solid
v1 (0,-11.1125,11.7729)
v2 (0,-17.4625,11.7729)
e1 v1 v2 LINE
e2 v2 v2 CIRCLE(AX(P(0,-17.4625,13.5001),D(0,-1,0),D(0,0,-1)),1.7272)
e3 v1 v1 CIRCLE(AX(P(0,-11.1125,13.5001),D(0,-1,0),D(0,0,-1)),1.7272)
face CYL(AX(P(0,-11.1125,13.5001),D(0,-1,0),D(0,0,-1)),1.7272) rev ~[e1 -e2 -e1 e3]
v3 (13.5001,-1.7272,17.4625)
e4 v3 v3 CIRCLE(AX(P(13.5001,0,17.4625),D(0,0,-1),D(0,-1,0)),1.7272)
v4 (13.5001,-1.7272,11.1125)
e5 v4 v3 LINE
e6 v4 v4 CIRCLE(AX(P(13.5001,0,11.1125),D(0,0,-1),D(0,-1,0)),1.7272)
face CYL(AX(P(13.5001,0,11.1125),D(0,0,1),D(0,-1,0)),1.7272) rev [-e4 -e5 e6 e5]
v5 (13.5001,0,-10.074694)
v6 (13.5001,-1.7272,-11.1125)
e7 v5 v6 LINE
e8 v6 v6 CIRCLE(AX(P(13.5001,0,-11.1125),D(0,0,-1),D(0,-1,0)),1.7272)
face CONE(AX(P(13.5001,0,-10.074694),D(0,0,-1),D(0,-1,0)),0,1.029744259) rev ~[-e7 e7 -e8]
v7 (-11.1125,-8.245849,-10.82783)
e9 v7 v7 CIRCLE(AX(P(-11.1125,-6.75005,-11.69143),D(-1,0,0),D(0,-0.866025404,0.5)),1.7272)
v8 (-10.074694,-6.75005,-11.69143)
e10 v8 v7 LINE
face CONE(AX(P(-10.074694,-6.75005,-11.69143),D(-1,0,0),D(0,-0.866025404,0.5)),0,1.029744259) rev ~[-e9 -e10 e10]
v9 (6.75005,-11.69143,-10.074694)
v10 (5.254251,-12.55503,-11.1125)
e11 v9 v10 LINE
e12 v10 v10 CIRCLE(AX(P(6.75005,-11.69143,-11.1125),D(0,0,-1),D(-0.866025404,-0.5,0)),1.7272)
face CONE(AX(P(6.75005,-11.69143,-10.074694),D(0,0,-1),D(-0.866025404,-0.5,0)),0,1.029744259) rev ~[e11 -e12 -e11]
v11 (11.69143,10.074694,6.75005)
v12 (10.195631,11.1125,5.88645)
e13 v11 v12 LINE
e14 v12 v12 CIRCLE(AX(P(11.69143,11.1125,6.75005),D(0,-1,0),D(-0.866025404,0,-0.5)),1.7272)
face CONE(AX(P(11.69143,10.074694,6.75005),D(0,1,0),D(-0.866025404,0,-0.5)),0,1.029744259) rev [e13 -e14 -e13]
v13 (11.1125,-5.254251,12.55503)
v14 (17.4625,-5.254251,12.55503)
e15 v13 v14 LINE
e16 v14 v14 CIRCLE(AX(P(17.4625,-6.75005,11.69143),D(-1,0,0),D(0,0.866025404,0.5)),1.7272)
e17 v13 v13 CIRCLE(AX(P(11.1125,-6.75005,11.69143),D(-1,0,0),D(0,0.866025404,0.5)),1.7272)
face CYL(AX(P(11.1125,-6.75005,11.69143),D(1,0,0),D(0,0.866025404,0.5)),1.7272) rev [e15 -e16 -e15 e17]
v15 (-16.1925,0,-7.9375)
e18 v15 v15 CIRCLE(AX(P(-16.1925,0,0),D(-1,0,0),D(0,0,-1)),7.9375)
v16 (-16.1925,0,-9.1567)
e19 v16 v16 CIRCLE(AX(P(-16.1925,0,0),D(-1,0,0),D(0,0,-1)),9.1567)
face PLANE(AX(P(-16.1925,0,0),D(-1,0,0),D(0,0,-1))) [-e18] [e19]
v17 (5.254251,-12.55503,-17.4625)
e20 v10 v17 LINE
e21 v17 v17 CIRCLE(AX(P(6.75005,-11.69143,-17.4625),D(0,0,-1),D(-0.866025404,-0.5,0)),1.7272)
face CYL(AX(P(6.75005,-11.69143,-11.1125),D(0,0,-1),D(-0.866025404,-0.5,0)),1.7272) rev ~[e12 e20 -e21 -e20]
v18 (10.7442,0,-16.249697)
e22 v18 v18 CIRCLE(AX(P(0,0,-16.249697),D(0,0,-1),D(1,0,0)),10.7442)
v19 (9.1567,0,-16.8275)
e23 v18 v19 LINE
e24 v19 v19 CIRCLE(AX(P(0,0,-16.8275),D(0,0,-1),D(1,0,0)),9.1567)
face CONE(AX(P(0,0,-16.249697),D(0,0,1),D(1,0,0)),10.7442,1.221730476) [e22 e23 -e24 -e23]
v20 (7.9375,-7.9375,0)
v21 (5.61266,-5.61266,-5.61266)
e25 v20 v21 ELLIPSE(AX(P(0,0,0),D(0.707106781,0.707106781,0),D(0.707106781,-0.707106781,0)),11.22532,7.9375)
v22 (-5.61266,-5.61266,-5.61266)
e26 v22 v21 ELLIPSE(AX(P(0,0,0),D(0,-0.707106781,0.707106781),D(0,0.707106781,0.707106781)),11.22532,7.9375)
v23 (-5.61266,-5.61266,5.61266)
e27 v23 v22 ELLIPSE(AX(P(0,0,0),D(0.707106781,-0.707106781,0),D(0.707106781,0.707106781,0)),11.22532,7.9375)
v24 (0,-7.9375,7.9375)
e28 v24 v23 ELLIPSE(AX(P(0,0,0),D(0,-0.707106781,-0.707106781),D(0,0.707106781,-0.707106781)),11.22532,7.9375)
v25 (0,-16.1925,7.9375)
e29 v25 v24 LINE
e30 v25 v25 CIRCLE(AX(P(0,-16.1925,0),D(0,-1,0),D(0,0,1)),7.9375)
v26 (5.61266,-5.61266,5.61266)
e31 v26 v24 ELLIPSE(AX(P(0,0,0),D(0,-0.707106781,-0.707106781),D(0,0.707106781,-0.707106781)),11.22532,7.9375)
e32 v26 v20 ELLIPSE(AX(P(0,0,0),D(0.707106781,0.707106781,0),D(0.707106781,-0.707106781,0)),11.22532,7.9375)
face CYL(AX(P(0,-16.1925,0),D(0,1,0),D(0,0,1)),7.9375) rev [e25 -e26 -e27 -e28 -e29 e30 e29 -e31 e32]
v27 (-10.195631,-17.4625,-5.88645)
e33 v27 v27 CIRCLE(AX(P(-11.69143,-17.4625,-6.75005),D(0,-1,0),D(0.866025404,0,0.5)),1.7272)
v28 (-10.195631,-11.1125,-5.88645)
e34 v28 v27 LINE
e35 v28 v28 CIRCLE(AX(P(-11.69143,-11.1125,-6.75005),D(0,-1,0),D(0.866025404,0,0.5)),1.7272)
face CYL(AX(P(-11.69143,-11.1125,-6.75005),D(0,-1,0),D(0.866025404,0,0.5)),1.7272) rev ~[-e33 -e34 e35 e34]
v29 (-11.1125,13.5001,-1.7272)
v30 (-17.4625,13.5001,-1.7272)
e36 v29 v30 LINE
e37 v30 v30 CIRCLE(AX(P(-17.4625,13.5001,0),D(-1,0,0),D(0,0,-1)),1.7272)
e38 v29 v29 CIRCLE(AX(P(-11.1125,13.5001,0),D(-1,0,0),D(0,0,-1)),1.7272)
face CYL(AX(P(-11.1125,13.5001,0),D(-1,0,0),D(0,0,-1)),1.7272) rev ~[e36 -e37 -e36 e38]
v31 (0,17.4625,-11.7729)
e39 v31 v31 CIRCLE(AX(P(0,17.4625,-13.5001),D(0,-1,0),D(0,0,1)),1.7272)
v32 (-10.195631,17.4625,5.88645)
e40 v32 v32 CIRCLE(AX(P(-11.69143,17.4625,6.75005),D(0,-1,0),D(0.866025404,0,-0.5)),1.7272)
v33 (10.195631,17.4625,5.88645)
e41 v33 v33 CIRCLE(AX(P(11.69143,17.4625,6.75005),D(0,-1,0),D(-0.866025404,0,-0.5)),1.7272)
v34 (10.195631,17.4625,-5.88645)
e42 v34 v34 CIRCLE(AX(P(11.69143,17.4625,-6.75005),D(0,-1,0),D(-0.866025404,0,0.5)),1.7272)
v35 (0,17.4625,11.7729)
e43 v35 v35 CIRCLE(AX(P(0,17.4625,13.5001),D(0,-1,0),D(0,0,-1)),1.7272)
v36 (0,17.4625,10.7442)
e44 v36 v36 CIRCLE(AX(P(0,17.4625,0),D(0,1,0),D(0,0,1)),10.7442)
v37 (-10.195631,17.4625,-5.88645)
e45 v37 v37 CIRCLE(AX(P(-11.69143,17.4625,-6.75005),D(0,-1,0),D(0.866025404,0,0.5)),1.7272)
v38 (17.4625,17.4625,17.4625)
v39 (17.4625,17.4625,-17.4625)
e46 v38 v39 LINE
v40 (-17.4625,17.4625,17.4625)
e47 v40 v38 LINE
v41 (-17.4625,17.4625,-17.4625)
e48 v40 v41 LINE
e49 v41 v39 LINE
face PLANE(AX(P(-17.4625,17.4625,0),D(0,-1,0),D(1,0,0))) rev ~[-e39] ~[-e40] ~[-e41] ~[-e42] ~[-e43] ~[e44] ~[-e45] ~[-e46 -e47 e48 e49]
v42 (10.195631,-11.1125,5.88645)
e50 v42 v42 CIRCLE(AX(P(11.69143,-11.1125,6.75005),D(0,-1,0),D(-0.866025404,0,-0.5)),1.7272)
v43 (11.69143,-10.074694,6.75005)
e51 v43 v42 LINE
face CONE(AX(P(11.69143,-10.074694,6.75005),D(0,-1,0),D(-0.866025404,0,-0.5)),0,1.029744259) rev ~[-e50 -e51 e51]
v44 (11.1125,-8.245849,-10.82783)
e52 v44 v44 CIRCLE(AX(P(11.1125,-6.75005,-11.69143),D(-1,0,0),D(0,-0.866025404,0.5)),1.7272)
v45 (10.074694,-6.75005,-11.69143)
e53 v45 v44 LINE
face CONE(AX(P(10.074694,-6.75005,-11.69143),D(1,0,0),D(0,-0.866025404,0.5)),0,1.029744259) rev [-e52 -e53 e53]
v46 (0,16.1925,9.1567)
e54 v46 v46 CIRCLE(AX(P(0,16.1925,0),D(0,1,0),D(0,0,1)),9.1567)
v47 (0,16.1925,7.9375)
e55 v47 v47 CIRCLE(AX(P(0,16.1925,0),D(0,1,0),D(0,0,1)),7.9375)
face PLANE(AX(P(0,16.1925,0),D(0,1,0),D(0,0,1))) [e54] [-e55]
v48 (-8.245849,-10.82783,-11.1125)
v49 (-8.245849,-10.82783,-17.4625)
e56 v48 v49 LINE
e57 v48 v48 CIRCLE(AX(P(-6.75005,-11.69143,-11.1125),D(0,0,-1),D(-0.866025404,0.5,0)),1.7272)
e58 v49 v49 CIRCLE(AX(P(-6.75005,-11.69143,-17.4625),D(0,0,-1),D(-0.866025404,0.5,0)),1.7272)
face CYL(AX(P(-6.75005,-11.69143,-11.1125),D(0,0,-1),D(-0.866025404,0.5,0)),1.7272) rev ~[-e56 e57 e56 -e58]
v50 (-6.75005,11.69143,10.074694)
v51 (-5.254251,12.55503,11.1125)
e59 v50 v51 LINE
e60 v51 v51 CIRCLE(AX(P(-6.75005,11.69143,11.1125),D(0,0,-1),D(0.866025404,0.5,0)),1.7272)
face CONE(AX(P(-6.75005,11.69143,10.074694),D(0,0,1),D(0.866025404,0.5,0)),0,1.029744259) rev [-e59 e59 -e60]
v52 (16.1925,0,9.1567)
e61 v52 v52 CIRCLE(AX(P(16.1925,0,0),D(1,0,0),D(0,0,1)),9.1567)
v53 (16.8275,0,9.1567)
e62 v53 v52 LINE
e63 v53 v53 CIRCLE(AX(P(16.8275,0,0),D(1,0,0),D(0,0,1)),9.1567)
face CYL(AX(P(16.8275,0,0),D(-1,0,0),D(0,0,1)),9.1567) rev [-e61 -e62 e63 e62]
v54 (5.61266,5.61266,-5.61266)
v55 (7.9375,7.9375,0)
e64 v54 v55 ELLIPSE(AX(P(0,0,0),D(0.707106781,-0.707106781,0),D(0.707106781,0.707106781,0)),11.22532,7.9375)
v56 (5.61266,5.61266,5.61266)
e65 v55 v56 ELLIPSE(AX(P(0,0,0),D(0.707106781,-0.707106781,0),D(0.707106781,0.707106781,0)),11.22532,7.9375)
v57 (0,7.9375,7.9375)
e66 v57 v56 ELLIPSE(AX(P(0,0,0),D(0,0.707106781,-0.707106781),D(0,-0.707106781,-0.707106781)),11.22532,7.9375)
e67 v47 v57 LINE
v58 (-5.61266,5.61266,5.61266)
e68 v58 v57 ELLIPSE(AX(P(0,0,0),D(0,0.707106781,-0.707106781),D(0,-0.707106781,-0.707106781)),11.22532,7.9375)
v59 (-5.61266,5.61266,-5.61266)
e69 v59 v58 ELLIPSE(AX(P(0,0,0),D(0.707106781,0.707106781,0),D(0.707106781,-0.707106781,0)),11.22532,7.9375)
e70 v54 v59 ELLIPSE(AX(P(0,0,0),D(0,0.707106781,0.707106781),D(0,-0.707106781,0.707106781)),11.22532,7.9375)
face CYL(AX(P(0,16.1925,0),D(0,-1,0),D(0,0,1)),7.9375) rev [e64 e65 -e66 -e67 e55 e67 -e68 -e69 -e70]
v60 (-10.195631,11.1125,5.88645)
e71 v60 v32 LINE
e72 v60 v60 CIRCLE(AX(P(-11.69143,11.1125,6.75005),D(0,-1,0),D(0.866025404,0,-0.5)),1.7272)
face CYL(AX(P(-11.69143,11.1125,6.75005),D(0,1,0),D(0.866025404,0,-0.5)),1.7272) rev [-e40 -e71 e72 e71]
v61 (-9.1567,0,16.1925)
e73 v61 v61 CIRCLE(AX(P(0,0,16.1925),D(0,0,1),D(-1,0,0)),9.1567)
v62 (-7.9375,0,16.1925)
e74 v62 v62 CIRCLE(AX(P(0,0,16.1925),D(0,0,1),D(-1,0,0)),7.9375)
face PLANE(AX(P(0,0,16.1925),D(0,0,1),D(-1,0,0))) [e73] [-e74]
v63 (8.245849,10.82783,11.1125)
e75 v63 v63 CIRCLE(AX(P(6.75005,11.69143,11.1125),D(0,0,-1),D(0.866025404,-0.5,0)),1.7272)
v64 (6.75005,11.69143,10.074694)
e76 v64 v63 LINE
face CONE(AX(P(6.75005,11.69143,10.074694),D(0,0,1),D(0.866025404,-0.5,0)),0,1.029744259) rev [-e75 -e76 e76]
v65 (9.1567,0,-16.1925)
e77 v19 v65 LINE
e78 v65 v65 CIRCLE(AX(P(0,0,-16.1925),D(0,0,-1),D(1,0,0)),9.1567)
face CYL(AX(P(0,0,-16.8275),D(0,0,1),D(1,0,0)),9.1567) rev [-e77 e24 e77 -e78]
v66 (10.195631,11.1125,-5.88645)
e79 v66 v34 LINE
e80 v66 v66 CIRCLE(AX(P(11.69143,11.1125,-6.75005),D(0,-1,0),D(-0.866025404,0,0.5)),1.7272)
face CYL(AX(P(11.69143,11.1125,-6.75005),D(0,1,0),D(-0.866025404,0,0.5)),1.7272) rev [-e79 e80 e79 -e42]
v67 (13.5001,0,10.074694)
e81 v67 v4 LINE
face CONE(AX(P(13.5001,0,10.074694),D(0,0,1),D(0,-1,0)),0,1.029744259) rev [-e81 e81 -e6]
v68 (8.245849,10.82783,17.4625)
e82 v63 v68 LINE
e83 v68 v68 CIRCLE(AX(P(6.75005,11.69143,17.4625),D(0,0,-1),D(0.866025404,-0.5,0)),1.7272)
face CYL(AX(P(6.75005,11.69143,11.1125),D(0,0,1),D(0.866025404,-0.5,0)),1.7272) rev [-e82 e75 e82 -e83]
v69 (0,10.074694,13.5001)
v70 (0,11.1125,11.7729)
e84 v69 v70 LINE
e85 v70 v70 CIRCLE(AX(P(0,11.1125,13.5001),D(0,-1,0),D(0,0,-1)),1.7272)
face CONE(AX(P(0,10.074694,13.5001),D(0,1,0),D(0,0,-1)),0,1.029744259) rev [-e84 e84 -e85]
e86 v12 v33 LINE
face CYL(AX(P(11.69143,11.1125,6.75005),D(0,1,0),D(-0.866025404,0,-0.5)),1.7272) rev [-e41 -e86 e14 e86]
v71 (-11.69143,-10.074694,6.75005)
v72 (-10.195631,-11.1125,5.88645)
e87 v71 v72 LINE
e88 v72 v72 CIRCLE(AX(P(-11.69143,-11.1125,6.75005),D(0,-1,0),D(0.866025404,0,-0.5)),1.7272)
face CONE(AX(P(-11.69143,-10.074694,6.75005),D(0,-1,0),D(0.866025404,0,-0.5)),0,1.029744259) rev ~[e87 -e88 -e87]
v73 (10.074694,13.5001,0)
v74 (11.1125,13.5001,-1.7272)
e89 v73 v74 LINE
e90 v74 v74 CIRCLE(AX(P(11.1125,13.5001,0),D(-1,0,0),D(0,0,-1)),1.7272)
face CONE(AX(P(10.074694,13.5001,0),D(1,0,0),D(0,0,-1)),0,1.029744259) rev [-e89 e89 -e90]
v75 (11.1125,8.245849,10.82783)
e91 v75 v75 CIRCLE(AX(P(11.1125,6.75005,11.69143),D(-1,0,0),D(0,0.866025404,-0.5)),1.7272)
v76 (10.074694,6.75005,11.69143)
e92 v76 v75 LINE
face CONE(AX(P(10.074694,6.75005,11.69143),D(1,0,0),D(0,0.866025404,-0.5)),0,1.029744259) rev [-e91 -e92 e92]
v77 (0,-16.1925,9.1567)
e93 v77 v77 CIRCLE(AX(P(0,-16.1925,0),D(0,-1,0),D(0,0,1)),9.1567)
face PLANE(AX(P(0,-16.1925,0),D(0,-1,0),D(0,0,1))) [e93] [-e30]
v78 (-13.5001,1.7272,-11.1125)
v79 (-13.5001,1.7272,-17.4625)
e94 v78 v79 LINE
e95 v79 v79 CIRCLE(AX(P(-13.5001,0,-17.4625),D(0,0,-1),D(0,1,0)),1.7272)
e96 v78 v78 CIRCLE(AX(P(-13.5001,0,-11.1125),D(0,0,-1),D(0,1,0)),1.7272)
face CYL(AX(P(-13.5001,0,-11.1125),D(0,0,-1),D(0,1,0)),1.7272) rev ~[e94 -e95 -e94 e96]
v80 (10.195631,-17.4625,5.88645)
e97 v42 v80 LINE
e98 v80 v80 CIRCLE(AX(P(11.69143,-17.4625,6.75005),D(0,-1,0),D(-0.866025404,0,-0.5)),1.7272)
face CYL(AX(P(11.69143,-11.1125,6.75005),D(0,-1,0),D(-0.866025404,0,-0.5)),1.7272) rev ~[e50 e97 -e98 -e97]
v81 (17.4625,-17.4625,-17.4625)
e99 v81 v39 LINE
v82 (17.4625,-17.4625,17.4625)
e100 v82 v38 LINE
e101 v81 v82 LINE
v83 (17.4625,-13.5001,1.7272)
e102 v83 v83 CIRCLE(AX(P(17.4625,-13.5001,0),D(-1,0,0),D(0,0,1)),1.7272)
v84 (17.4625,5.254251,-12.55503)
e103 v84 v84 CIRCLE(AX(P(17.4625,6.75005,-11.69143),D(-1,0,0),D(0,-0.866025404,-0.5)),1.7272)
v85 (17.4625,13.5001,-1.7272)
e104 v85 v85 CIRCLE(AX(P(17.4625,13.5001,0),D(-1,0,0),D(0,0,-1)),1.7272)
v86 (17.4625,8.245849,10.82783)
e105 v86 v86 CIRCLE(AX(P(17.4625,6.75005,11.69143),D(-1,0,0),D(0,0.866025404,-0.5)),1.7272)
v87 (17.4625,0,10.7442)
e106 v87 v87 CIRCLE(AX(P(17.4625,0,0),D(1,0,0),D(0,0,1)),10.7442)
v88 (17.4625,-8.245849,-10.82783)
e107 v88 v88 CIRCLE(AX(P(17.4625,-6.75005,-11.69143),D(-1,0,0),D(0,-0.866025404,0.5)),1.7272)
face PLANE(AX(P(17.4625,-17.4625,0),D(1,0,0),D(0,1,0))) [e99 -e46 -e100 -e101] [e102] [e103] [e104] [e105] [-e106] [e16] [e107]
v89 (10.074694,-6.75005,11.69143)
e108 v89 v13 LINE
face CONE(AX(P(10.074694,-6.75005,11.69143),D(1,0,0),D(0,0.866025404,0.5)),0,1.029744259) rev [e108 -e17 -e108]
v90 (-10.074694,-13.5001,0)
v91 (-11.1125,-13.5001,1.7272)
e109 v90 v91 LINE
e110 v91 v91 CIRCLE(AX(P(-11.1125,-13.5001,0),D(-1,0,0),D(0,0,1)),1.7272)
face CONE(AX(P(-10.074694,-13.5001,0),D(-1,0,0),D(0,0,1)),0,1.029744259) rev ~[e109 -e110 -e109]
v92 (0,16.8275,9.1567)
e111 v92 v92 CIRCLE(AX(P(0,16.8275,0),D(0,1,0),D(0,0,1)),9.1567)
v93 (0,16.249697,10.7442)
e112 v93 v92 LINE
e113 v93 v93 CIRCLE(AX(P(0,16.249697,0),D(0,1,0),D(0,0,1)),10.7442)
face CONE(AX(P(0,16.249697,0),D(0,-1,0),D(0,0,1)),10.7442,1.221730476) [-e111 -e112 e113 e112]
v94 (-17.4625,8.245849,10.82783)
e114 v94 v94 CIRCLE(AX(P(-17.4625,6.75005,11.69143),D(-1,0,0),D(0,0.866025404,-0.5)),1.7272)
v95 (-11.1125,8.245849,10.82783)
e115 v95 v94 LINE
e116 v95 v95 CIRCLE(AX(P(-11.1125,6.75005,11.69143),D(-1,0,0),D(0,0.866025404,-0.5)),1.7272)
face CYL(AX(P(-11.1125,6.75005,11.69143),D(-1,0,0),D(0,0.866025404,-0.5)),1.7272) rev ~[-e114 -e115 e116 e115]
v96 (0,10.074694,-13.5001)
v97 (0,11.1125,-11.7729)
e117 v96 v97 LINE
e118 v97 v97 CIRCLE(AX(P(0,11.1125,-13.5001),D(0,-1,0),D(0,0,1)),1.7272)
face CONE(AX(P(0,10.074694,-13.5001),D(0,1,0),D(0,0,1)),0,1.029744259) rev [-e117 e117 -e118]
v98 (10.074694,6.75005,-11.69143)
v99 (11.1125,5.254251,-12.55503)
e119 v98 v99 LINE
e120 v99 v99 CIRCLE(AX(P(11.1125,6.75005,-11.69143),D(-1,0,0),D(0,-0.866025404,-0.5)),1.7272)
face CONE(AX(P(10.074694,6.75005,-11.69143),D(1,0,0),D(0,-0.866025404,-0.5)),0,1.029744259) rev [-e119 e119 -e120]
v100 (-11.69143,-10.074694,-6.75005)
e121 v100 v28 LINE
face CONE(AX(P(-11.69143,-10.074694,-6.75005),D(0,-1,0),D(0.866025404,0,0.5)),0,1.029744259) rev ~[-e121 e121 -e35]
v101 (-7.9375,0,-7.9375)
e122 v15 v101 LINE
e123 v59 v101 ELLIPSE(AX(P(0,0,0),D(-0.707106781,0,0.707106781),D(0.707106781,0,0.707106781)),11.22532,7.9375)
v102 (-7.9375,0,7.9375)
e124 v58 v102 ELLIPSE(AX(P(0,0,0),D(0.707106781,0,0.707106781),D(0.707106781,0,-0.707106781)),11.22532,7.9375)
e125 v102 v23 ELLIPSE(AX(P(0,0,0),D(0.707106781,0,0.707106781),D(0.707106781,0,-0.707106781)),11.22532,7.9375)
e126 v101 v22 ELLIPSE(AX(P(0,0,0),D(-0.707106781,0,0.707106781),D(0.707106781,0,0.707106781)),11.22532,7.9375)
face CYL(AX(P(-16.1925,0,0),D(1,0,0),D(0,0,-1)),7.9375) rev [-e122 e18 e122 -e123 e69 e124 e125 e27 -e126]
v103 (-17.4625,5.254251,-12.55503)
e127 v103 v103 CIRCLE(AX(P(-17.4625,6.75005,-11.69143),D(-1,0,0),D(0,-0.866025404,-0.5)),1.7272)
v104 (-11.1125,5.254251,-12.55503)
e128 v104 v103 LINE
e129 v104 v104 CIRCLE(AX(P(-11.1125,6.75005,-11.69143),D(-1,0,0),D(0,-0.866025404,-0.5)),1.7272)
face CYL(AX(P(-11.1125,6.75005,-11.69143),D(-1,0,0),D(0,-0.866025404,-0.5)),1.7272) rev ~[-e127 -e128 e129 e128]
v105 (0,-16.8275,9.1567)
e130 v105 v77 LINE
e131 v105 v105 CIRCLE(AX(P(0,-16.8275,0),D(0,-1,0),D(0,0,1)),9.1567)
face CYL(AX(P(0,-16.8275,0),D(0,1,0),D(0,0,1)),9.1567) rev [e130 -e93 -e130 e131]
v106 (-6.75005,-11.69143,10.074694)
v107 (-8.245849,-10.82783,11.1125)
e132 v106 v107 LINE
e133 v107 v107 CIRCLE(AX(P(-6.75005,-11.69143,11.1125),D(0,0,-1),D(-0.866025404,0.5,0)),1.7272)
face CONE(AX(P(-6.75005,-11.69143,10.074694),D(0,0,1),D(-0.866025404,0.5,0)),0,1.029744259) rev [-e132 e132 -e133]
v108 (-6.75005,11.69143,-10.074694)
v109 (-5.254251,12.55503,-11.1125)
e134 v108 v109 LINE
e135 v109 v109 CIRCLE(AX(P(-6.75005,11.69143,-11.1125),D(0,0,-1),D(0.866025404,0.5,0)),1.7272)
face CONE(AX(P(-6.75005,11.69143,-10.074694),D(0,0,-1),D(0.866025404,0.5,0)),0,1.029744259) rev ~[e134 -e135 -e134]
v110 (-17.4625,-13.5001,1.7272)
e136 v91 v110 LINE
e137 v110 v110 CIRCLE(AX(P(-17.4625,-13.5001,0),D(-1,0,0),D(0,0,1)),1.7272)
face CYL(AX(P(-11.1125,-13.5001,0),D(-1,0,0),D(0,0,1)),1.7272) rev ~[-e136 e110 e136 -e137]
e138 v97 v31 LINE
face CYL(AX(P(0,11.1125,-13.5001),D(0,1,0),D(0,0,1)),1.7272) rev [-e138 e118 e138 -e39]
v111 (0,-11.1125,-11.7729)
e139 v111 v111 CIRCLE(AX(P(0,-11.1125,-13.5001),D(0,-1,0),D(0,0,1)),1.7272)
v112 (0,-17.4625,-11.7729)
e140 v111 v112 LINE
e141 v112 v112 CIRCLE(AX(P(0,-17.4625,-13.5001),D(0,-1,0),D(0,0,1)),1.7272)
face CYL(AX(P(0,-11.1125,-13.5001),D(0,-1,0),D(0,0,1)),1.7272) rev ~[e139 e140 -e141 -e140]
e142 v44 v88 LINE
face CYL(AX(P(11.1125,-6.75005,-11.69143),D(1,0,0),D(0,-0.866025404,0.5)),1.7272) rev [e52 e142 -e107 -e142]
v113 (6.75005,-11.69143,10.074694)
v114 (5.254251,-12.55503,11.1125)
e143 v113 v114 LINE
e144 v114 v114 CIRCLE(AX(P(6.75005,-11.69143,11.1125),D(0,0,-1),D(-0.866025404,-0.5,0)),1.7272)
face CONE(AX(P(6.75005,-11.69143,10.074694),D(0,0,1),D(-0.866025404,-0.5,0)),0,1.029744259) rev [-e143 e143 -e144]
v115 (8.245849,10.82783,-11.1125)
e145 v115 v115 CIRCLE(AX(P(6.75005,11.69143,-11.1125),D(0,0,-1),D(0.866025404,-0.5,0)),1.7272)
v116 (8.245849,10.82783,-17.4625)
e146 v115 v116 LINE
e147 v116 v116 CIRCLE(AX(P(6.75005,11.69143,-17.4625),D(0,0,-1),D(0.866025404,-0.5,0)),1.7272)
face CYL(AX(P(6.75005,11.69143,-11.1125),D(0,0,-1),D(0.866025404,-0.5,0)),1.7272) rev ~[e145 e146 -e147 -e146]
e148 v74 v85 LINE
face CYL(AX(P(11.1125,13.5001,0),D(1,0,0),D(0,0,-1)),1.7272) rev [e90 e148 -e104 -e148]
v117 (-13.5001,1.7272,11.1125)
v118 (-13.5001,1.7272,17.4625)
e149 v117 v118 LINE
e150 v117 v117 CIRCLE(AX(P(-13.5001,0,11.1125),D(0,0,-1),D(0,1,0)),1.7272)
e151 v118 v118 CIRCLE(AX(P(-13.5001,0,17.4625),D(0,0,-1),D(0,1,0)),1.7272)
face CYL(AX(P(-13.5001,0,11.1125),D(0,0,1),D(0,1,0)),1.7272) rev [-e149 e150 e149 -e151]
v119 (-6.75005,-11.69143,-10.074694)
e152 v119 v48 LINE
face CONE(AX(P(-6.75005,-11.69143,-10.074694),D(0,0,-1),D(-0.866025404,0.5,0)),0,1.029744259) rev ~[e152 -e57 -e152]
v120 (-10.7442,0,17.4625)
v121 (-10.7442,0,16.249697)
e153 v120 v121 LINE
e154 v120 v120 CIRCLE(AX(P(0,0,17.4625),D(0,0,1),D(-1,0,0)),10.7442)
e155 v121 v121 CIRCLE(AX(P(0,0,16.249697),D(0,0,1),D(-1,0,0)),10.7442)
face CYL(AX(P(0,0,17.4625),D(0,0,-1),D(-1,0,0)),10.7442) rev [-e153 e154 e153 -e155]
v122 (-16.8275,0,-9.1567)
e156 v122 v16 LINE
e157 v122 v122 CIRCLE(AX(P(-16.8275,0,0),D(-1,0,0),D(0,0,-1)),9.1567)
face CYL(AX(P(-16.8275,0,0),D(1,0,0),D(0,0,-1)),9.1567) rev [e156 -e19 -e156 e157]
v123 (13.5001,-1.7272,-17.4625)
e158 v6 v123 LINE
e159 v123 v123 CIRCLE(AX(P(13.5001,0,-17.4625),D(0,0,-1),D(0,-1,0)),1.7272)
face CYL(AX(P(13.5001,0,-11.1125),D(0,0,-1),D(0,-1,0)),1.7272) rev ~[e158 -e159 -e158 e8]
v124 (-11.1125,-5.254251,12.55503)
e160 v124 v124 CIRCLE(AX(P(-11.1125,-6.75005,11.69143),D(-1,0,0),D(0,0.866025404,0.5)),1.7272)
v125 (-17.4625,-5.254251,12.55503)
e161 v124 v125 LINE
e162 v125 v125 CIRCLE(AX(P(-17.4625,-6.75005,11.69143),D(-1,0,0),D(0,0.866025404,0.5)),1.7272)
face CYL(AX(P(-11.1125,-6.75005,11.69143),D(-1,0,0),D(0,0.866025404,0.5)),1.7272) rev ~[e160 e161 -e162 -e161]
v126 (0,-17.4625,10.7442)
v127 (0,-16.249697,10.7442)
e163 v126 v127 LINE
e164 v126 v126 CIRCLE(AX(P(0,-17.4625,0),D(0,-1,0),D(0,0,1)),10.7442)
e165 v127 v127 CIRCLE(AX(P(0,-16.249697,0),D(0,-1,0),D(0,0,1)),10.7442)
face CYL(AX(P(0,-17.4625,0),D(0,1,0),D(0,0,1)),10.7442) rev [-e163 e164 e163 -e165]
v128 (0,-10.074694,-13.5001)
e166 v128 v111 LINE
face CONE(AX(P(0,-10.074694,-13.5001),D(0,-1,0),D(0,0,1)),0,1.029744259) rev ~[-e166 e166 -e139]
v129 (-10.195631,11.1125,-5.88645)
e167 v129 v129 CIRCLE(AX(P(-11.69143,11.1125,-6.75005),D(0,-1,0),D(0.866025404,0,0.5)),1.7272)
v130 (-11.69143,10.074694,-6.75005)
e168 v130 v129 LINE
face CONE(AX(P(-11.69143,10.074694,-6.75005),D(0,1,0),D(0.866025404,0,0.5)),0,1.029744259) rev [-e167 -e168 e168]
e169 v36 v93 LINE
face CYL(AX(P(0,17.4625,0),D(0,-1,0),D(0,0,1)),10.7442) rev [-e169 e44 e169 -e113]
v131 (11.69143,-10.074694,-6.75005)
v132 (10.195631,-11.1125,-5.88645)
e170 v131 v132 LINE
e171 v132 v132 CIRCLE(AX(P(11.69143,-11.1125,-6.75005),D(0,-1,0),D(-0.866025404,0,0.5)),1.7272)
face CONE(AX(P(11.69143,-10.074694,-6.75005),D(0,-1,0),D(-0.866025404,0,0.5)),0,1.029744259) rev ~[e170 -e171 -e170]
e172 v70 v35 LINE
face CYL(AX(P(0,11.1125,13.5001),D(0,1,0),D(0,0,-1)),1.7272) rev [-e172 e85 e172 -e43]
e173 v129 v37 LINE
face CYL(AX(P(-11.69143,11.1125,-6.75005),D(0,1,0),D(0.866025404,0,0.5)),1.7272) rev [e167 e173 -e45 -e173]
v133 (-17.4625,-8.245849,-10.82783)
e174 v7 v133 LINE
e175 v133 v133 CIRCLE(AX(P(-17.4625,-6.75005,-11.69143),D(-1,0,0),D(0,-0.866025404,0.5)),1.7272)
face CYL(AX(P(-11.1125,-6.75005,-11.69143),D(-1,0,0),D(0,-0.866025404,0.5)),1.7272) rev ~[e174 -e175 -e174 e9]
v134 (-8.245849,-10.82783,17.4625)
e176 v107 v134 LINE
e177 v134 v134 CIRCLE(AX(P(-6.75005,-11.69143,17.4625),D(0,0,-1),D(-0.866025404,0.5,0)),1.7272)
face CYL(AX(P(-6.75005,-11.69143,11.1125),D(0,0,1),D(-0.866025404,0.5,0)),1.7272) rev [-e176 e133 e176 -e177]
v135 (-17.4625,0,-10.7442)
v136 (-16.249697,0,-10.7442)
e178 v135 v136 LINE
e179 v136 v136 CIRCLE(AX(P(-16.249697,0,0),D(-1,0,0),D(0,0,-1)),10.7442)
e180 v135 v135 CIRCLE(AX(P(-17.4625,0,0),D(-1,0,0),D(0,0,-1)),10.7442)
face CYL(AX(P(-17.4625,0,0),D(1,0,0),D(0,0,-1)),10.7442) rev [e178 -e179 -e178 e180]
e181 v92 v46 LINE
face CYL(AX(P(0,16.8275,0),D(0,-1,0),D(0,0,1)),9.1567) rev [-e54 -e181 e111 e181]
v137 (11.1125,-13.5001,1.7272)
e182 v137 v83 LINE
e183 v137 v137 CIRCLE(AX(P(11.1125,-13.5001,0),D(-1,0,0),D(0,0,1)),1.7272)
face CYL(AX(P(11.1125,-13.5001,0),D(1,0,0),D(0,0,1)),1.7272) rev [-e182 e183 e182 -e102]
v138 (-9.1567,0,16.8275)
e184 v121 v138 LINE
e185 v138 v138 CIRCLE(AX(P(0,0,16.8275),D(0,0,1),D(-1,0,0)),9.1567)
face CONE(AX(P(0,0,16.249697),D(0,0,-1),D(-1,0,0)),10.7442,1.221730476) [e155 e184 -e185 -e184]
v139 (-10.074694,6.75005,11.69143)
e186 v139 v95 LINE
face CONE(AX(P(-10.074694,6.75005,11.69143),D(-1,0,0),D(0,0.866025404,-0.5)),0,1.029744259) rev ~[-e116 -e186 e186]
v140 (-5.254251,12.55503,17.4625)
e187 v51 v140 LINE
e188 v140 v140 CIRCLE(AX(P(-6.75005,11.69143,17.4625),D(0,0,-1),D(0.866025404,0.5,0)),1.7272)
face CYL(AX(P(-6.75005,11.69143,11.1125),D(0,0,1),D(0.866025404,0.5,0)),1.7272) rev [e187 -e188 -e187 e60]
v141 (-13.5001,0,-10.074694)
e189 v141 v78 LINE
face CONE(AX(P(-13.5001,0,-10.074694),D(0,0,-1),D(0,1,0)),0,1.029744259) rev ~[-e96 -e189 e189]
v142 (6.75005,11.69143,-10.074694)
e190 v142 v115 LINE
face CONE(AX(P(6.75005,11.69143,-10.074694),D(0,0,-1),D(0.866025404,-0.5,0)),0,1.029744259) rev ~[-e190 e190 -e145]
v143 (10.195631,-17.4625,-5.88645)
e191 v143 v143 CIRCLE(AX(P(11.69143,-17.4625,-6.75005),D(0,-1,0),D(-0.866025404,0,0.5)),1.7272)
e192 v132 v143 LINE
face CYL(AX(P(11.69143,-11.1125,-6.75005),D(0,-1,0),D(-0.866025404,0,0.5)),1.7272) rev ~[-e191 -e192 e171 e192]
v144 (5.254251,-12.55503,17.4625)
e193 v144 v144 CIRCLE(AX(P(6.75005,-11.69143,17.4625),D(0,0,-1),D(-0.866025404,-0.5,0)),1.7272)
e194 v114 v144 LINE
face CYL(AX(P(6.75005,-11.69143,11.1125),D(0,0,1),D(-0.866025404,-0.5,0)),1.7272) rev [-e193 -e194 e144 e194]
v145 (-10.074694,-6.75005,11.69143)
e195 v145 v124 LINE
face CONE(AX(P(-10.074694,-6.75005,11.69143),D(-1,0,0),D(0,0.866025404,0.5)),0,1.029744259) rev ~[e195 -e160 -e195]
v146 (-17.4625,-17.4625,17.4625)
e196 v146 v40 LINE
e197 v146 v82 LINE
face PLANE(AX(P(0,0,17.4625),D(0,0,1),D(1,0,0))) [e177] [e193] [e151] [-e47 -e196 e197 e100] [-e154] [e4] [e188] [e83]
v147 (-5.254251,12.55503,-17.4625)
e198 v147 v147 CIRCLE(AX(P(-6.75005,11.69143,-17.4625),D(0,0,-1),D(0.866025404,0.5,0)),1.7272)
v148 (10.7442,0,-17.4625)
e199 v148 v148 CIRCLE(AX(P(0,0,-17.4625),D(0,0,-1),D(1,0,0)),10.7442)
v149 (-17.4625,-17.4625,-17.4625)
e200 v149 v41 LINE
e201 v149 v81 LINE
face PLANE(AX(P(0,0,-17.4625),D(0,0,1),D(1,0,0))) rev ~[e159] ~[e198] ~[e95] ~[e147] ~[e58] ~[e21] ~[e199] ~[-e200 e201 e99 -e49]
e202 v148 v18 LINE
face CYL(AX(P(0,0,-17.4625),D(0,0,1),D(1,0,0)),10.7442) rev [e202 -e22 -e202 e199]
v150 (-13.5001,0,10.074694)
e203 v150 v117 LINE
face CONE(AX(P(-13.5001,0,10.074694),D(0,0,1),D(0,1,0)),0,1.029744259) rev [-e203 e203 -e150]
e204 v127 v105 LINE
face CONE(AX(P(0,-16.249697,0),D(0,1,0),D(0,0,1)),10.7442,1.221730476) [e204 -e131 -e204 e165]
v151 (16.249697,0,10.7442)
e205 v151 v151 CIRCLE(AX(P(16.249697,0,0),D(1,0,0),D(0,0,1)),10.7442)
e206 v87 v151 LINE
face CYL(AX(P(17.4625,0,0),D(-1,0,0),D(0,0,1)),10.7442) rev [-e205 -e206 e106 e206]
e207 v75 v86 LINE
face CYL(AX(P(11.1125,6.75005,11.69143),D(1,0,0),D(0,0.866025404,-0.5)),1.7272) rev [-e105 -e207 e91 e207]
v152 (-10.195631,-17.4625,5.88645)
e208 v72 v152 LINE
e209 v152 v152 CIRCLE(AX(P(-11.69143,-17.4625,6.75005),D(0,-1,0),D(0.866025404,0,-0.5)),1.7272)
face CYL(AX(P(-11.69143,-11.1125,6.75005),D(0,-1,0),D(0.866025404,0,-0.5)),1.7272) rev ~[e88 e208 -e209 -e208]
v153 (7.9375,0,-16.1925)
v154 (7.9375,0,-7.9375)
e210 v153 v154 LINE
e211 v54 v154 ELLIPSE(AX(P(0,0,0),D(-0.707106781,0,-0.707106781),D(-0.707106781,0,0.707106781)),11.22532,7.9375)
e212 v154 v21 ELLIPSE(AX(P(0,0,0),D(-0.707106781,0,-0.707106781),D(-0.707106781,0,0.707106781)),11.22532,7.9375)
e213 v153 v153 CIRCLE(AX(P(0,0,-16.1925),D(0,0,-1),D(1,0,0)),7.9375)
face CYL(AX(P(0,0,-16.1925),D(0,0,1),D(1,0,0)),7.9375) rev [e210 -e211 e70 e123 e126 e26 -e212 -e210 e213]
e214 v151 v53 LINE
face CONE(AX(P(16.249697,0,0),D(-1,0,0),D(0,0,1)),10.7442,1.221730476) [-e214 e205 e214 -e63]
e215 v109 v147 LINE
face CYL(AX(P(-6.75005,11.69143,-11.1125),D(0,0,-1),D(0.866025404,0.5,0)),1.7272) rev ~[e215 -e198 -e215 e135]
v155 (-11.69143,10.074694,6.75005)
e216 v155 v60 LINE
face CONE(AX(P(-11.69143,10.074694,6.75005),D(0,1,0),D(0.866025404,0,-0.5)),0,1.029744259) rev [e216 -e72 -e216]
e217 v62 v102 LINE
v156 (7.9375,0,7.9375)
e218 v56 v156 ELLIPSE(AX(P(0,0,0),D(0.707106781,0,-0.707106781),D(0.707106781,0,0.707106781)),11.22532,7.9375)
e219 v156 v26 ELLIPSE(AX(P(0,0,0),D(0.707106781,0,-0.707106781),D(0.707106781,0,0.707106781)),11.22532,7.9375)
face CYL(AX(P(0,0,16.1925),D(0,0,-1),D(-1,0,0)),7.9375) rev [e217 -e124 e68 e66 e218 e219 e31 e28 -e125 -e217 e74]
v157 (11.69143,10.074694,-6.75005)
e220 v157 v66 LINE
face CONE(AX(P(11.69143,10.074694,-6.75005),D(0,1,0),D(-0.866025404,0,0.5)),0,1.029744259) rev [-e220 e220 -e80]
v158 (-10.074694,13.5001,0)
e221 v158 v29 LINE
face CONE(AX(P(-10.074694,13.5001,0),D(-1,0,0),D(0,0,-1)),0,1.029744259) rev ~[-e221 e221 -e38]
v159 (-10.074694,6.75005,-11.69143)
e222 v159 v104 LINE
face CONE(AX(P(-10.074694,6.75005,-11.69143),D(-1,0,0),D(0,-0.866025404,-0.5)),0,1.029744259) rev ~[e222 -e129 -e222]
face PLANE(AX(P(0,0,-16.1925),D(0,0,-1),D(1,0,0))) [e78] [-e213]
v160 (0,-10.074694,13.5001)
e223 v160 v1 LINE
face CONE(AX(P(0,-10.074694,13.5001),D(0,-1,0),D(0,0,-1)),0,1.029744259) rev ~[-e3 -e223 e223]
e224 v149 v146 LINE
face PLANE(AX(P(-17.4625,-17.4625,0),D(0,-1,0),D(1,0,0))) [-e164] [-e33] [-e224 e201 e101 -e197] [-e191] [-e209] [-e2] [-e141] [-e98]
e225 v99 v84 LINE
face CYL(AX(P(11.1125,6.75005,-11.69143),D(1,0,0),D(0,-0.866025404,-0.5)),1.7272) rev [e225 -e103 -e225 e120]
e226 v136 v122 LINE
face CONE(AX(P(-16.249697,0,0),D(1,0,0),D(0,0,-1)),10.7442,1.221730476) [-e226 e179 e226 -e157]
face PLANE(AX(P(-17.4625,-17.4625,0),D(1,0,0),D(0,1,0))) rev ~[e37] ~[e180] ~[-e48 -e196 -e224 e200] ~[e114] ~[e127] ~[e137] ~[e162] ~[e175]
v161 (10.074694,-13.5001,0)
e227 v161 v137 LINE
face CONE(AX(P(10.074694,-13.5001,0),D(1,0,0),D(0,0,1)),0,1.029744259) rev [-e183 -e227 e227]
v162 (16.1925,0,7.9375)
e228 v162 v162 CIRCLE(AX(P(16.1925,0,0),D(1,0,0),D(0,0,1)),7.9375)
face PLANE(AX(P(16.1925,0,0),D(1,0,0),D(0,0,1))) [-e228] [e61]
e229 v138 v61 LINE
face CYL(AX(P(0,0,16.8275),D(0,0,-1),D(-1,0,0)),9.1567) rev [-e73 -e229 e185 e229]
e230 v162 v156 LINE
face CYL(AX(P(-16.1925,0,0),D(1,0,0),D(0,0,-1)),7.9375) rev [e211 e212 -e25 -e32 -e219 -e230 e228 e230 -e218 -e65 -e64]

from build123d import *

# Parameters (mm, degrees)
SKETCH1_W           = 34.925
SKETCH1_H           = 34.925
BOSS_EXTRUDE1_DEPTH = 17.4625
CIRPATTERN1_COUNT   = 6
CIRPATTERN2_COUNT   = 6
CIRPATTERN3_COUNT   = 6
CIRPATTERN4_COUNT   = 4
CIRPATTERN5_COUNT   = 4


with BuildPart() as part:
    # Sketch1 → Boss-Extrude1 (new, symmetric)
    with BuildSketch(Plane.XY):
        Rectangle(SKETCH1_W, SKETCH1_H)
    extrude(amount=BOSS_EXTRUDE1_DEPTH, both=True)

    # Sketch6 → Cut-Revolve1 (revolve, cut)
    with BuildSketch(Plane.XY):
        Polygon((17.4625, 10.7442), (16.249697253, 10.7442), (16.8275, 9.1567), (16.1925, 9.1567), (16.1925, 7.9375), (0, 7.9375), (0, 0), (17.4625, 0), align=None)
    cut_revolve1 = revolve(axis=Axis((17.4625, 0, 0), (1, 0, 0)), mode=Mode.SUBTRACT)

    # Sketch5 → Tapped Hole0 (revolve, cut)
    with BuildSketch(Plane(origin=(17.4625, 13.5001, 0), x_dir=(0, 0, -1), z_dir=(0, 1, 0))):
        Polygon((0, 0), (0, 7.387806428), (1.727199945, 6.35), (1.727199945, 0), align=None)
    tapped_hole0 = revolve(axis=Axis((23.8125, 13.5001, 0), (-1, 0, 0)), mode=Mode.SUBTRACT)

    # Sketch8 → Tapped Hole1 (revolve, cut)
    with BuildSketch(Plane(origin=(0, 17.4625, -13.5001), x_dir=(0, 0, 1), z_dir=(1, 0, 0))):
        Polygon((0, 0), (0, 7.387806428), (1.727199945, 6.35), (1.727199945, 0), align=None)
    tapped_hole1 = revolve(axis=Axis((0, 23.8125, -13.5001), (0, -1, 0)), mode=Mode.SUBTRACT)

    # Sketch10 → Tapped Hole2 (revolve, cut)
    with BuildSketch(Plane(origin=(13.5001, 0, 17.4625), x_dir=(0, -1, 0), z_dir=(1, 0, 0))):
        Polygon((0, 0), (0, 7.387806428), (1.727199945, 6.35), (1.727199945, 0), align=None)
    tapped_hole2 = revolve(axis=Axis((13.5001, 0, 23.8125), (0, 0, -1)), mode=Mode.SUBTRACT)

    # CirPattern1: Tapped Hole0 ×6 about axis
    cirpattern1_axis = Axis((-38.4175, 0, 0), (1, 0, 0))
    for i in range(1, CIRPATTERN1_COUNT):
        add(tapped_hole0.rotate(cirpattern1_axis, i * 360 / CIRPATTERN1_COUNT), mode=Mode.SUBTRACT)

    # CirPattern2: Tapped Hole1 ×6 about axis
    cirpattern2_axis = Axis((0, 38.4175, 0), (0, -1, 0))
    for i in range(1, CIRPATTERN2_COUNT):
        add(tapped_hole1.rotate(cirpattern2_axis, i * 360 / CIRPATTERN2_COUNT), mode=Mode.SUBTRACT)

    # CirPattern3: Tapped Hole2 ×6 about axis
    cirpattern3_axis = Axis((0, 0, 38.4175), (0, 0, -1))
    for i in range(1, CIRPATTERN3_COUNT):
        add(tapped_hole2.rotate(cirpattern3_axis, i * 360 / CIRPATTERN3_COUNT), mode=Mode.SUBTRACT)

    # CirPattern4: Cut-Revolve1 ×4 about axis
    cirpattern4_axis = Axis((0, 38.4175, 0), (0, -1, 0))
    for i in range(1, CIRPATTERN4_COUNT):
        add(cut_revolve1.rotate(cirpattern4_axis, i * 360 / CIRPATTERN4_COUNT), mode=Mode.SUBTRACT)

    # CirPattern5: Cut-Revolve1 ×4 about axis, 1 skipped
    cirpattern5_axis = Axis((0, 0, 38.4175), (0, 0, -1))
    add([cut_revolve1.rotate(cirpattern5_axis, i * 360 / CIRPATTERN5_COUNT) for i in range(1, CIRPATTERN5_COUNT) if i not in (2,)], mode=Mode.SUBTRACT)

    # Mirror1 copy 1 sketch → Mirror1 copy 1 (revolve, cut)
    with BuildSketch(Plane(origin=(6.75005, -11.691429554, -17.4625), x_dir=(-0.8660254037844386, -0.5000000000000001, 0), z_dir=(0.5000000000000001, -0.8660254037844386, 0))):
        Polygon((0, 0), (0, -7.387806428), (1.727199945, -6.35), (1.727199945, 0), align=None)
    revolve(axis=Axis((6.75005, -11.691429554, -23.8125), (0, 0, -1)), mode=Mode.SUBTRACT)

    # Mirror1 copy 2 sketch → Mirror1 copy 2 (revolve, cut)
    with BuildSketch(Plane(origin=(-6.75005, -11.691429554, -17.4625), x_dir=(-0.8660254037844387, 0.4999999999999998, 0), z_dir=(-0.4999999999999998, -0.8660254037844387, 0))):
        Polygon((0, 0), (0, -7.387806428), (1.727199945, -6.35), (1.727199945, 0), align=None)
    revolve(axis=Axis((-6.75005, -11.691429554, -23.8125), (0, 0, -1)), mode=Mode.SUBTRACT)

    # Mirror1 copy 3 sketch → Mirror1 copy 3 (revolve, cut)
    with BuildSketch(Plane(origin=(-13.5001, 0, -17.4625), x_dir=(0, 1, 0), z_dir=(-1, 0, 0))):
        Polygon((0, 0), (0, -7.387806428), (1.727199945, -6.35), (1.727199945, 0), align=None)
    revolve(axis=Axis((-13.5001, 0, -23.8125), (0, 0, -1)), mode=Mode.SUBTRACT)

    # Mirror1 copy 4 sketch → Mirror1 copy 4 (revolve, cut)
    with BuildSketch(Plane(origin=(-6.75005, 11.691429554, -17.4625), x_dir=(0.8660254037844384, 0.5000000000000004, 0), z_dir=(-0.5000000000000004, 0.8660254037844384, 0))):
        Polygon((0, 0), (0, -7.387806428), (1.727199945, -6.35), (1.727199945, 0), align=None)
    revolve(axis=Axis((-6.75005, 11.691429554, -23.8125), (0, 0, -1)), mode=Mode.SUBTRACT)

    # Mirror1 copy 5 sketch → Mirror1 copy 5 (revolve, cut)
    with BuildSketch(Plane(origin=(6.75005, 11.691429554, -17.4625), x_dir=(0.8660254037844386, -0.5000000000000001, 0), z_dir=(0.5000000000000001, 0.8660254037844386, 0))):
        Polygon((0, 0), (0, -7.387806428), (1.727199945, -6.35), (1.727199945, 0), align=None)
    revolve(axis=Axis((6.75005, 11.691429554, -23.8125), (0, 0, -1)), mode=Mode.SUBTRACT)

    # Mirror1 copy 6 sketch → Mirror1 copy 6 (revolve, cut)
    with BuildSketch(Plane(origin=(13.5001, 0, -17.4625), x_dir=(0, -1, 0), z_dir=(1, 0, 0))):
        Polygon((0, 0), (0, -7.387806428), (1.727199945, -6.35), (1.727199945, 0), align=None)
    revolve(axis=Axis((13.5001, 0, -23.8125), (0, 0, -1)), mode=Mode.SUBTRACT)

    # Mirror2 copy 1 sketch → Mirror2 copy 1 (revolve, cut)
    with BuildSketch(Plane(origin=(11.691429554, -17.4625, -6.75005), x_dir=(-0.8660254037844386, 0, 0.5000000000000001), z_dir=(0.5000000000000001, 0, 0.8660254037844386))):
        Polygon((0, 0), (0, -7.387806428), (1.727199945, -6.35), (1.727199945, 0), align=None)
    revolve(axis=Axis((11.691429554, -23.8125, -6.75005), (0, -1, 0)), mode=Mode.SUBTRACT)

    # Mirror2 copy 2 sketch → Mirror2 copy 2 (revolve, cut)
    with BuildSketch(Plane(origin=(11.691429554, -17.4625, 6.75005), x_dir=(-0.8660254037844387, 0, -0.4999999999999998), z_dir=(-0.4999999999999998, 0, 0.8660254037844387))):
        Polygon((0, 0), (0, -7.387806428), (1.727199945, -6.35), (1.727199945, 0), align=None)
    revolve(axis=Axis((11.691429554, -23.8125, 6.75005), (0, -1, 0)), mode=Mode.SUBTRACT)

    # Mirror2 copy 3 sketch → Mirror2 copy 3 (revolve, cut)
    with BuildSketch(Plane(origin=(0, -17.4625, 13.5001), x_dir=(0, 0, -1), z_dir=(-1, 0, 0))):
        Polygon((0, 0), (0, -7.387806428), (1.727199945, -6.35), (1.727199945, 0), align=None)
    revolve(axis=Axis((0, -23.8125, 13.5001), (0, -1, 0)), mode=Mode.SUBTRACT)

    # Mirror2 copy 4 sketch → Mirror2 copy 4 (revolve, cut)
    with BuildSketch(Plane(origin=(-11.691429554, -17.4625, 6.75005), x_dir=(0.8660254037844384, 0, -0.5000000000000004), z_dir=(-0.5000000000000004, 0, -0.8660254037844384))):
        Polygon((0, 0), (0, -7.387806428), (1.727199945, -6.35), (1.727199945, 0), align=None)
    revolve(axis=Axis((-11.691429554, -23.8125, 6.75005), (0, -1, 0)), mode=Mode.SUBTRACT)

    # Mirror2 copy 5 sketch → Mirror2 copy 5 (revolve, cut)
    with BuildSketch(Plane(origin=(-11.691429554, -17.4625, -6.75005), x_dir=(0.8660254037844386, 0, 0.5000000000000001), z_dir=(0.5000000000000001, 0, -0.8660254037844386))):
        Polygon((0, 0), (0, -7.387806428), (1.727199945, -6.35), (1.727199945, 0), align=None)
    revolve(axis=Axis((-11.691429554, -23.8125, -6.75005), (0, -1, 0)), mode=Mode.SUBTRACT)

    # Mirror2 copy 6 sketch → Mirror2 copy 6 (revolve, cut)
    with BuildSketch(Plane(origin=(0, -17.4625, -13.5001), x_dir=(0, 0, 1), z_dir=(1, 0, 0))):
        Polygon((0, 0), (0, -7.387806428), (1.727199945, -6.35), (1.727199945, 0), align=None)
    revolve(axis=Axis((0, -23.8125, -13.5001), (0, -1, 0)), mode=Mode.SUBTRACT)

    # Mirror3 copy 1 sketch → Mirror3 copy 1 (revolve, cut)
    with BuildSketch(Plane(origin=(-17.4625, 6.75005, 11.691429554), x_dir=(0, 0.8660254037844386, -0.5000000000000001), z_dir=(0, 0.5000000000000001, 0.8660254037844386))):
        Polygon((0, 0), (0, -7.387806428), (1.727199945, -6.35), (1.727199945, 0), align=None)
    revolve(axis=Axis((-23.8125, 6.75005, 11.691429554), (-1, 0, 0)), mode=Mode.SUBTRACT)

    # Mirror3 copy 2 sketch → Mirror3 copy 2 (revolve, cut)
    with BuildSketch(Plane(origin=(-17.4625, -6.75005, 11.691429554), x_dir=(0, 0.8660254037844387, 0.4999999999999998), z_dir=(0, -0.4999999999999998, 0.8660254037844387))):
        Polygon((0, 0), (0, -7.387806428), (1.727199945, -6.35), (1.727199945, 0), align=None)
    revolve(axis=Axis((-23.8125, -6.75005, 11.691429554), (-1, 0, 0)), mode=Mode.SUBTRACT)

    # Mirror3 copy 3 sketch → Mirror3 copy 3 (revolve, cut)
    with BuildSketch(Plane(origin=(-17.4625, -13.5001, 0), x_dir=(0, 0, 1), z_dir=(0, -1, 0))):
        Polygon((0, 0), (0, -7.387806428), (1.727199945, -6.35), (1.727199945, 0), align=None)
    revolve(axis=Axis((-23.8125, -13.5001, 0), (-1, 0, 0)), mode=Mode.SUBTRACT)

    # Mirror3 copy 4 sketch → Mirror3 copy 4 (revolve, cut)
    with BuildSketch(Plane(origin=(-17.4625, -6.75005, -11.691429554), x_dir=(0, -0.8660254037844384, 0.5000000000000004), z_dir=(0, -0.5000000000000004, -0.8660254037844384))):
        Polygon((0, 0), (0, -7.387806428), (1.727199945, -6.35), (1.727199945, 0), align=None)
    revolve(axis=Axis((-23.8125, -6.75005, -11.691429554), (-1, 0, 0)), mode=Mode.SUBTRACT)

    # Mirror3 copy 5 sketch → Mirror3 copy 5 (revolve, cut)
    with BuildSketch(Plane(origin=(-17.4625, 6.75005, -11.691429554), x_dir=(0, -0.8660254037844386, -0.5000000000000001), z_dir=(0, 0.5000000000000001, -0.8660254037844386))):
        Polygon((0, 0), (0, -7.387806428), (1.727199945, -6.35), (1.727199945, 0), align=None)
    revolve(axis=Axis((-23.8125, 6.75005, -11.691429554), (-1, 0, 0)), mode=Mode.SUBTRACT)

    # Mirror3 copy 6 sketch → Mirror3 copy 6 (revolve, cut)
    with BuildSketch(Plane(origin=(-17.4625, 13.5001, 0), x_dir=(0, 0, -1), z_dir=(0, 1, 0))):
        Polygon((0, 0), (0, -7.387806428), (1.727199945, -6.35), (1.727199945, 0), align=None)
    revolve(axis=Axis((-23.8125, 13.5001, 0), (-1, 0, 0)), mode=Mode.SUBTRACT)


solid = part.part
